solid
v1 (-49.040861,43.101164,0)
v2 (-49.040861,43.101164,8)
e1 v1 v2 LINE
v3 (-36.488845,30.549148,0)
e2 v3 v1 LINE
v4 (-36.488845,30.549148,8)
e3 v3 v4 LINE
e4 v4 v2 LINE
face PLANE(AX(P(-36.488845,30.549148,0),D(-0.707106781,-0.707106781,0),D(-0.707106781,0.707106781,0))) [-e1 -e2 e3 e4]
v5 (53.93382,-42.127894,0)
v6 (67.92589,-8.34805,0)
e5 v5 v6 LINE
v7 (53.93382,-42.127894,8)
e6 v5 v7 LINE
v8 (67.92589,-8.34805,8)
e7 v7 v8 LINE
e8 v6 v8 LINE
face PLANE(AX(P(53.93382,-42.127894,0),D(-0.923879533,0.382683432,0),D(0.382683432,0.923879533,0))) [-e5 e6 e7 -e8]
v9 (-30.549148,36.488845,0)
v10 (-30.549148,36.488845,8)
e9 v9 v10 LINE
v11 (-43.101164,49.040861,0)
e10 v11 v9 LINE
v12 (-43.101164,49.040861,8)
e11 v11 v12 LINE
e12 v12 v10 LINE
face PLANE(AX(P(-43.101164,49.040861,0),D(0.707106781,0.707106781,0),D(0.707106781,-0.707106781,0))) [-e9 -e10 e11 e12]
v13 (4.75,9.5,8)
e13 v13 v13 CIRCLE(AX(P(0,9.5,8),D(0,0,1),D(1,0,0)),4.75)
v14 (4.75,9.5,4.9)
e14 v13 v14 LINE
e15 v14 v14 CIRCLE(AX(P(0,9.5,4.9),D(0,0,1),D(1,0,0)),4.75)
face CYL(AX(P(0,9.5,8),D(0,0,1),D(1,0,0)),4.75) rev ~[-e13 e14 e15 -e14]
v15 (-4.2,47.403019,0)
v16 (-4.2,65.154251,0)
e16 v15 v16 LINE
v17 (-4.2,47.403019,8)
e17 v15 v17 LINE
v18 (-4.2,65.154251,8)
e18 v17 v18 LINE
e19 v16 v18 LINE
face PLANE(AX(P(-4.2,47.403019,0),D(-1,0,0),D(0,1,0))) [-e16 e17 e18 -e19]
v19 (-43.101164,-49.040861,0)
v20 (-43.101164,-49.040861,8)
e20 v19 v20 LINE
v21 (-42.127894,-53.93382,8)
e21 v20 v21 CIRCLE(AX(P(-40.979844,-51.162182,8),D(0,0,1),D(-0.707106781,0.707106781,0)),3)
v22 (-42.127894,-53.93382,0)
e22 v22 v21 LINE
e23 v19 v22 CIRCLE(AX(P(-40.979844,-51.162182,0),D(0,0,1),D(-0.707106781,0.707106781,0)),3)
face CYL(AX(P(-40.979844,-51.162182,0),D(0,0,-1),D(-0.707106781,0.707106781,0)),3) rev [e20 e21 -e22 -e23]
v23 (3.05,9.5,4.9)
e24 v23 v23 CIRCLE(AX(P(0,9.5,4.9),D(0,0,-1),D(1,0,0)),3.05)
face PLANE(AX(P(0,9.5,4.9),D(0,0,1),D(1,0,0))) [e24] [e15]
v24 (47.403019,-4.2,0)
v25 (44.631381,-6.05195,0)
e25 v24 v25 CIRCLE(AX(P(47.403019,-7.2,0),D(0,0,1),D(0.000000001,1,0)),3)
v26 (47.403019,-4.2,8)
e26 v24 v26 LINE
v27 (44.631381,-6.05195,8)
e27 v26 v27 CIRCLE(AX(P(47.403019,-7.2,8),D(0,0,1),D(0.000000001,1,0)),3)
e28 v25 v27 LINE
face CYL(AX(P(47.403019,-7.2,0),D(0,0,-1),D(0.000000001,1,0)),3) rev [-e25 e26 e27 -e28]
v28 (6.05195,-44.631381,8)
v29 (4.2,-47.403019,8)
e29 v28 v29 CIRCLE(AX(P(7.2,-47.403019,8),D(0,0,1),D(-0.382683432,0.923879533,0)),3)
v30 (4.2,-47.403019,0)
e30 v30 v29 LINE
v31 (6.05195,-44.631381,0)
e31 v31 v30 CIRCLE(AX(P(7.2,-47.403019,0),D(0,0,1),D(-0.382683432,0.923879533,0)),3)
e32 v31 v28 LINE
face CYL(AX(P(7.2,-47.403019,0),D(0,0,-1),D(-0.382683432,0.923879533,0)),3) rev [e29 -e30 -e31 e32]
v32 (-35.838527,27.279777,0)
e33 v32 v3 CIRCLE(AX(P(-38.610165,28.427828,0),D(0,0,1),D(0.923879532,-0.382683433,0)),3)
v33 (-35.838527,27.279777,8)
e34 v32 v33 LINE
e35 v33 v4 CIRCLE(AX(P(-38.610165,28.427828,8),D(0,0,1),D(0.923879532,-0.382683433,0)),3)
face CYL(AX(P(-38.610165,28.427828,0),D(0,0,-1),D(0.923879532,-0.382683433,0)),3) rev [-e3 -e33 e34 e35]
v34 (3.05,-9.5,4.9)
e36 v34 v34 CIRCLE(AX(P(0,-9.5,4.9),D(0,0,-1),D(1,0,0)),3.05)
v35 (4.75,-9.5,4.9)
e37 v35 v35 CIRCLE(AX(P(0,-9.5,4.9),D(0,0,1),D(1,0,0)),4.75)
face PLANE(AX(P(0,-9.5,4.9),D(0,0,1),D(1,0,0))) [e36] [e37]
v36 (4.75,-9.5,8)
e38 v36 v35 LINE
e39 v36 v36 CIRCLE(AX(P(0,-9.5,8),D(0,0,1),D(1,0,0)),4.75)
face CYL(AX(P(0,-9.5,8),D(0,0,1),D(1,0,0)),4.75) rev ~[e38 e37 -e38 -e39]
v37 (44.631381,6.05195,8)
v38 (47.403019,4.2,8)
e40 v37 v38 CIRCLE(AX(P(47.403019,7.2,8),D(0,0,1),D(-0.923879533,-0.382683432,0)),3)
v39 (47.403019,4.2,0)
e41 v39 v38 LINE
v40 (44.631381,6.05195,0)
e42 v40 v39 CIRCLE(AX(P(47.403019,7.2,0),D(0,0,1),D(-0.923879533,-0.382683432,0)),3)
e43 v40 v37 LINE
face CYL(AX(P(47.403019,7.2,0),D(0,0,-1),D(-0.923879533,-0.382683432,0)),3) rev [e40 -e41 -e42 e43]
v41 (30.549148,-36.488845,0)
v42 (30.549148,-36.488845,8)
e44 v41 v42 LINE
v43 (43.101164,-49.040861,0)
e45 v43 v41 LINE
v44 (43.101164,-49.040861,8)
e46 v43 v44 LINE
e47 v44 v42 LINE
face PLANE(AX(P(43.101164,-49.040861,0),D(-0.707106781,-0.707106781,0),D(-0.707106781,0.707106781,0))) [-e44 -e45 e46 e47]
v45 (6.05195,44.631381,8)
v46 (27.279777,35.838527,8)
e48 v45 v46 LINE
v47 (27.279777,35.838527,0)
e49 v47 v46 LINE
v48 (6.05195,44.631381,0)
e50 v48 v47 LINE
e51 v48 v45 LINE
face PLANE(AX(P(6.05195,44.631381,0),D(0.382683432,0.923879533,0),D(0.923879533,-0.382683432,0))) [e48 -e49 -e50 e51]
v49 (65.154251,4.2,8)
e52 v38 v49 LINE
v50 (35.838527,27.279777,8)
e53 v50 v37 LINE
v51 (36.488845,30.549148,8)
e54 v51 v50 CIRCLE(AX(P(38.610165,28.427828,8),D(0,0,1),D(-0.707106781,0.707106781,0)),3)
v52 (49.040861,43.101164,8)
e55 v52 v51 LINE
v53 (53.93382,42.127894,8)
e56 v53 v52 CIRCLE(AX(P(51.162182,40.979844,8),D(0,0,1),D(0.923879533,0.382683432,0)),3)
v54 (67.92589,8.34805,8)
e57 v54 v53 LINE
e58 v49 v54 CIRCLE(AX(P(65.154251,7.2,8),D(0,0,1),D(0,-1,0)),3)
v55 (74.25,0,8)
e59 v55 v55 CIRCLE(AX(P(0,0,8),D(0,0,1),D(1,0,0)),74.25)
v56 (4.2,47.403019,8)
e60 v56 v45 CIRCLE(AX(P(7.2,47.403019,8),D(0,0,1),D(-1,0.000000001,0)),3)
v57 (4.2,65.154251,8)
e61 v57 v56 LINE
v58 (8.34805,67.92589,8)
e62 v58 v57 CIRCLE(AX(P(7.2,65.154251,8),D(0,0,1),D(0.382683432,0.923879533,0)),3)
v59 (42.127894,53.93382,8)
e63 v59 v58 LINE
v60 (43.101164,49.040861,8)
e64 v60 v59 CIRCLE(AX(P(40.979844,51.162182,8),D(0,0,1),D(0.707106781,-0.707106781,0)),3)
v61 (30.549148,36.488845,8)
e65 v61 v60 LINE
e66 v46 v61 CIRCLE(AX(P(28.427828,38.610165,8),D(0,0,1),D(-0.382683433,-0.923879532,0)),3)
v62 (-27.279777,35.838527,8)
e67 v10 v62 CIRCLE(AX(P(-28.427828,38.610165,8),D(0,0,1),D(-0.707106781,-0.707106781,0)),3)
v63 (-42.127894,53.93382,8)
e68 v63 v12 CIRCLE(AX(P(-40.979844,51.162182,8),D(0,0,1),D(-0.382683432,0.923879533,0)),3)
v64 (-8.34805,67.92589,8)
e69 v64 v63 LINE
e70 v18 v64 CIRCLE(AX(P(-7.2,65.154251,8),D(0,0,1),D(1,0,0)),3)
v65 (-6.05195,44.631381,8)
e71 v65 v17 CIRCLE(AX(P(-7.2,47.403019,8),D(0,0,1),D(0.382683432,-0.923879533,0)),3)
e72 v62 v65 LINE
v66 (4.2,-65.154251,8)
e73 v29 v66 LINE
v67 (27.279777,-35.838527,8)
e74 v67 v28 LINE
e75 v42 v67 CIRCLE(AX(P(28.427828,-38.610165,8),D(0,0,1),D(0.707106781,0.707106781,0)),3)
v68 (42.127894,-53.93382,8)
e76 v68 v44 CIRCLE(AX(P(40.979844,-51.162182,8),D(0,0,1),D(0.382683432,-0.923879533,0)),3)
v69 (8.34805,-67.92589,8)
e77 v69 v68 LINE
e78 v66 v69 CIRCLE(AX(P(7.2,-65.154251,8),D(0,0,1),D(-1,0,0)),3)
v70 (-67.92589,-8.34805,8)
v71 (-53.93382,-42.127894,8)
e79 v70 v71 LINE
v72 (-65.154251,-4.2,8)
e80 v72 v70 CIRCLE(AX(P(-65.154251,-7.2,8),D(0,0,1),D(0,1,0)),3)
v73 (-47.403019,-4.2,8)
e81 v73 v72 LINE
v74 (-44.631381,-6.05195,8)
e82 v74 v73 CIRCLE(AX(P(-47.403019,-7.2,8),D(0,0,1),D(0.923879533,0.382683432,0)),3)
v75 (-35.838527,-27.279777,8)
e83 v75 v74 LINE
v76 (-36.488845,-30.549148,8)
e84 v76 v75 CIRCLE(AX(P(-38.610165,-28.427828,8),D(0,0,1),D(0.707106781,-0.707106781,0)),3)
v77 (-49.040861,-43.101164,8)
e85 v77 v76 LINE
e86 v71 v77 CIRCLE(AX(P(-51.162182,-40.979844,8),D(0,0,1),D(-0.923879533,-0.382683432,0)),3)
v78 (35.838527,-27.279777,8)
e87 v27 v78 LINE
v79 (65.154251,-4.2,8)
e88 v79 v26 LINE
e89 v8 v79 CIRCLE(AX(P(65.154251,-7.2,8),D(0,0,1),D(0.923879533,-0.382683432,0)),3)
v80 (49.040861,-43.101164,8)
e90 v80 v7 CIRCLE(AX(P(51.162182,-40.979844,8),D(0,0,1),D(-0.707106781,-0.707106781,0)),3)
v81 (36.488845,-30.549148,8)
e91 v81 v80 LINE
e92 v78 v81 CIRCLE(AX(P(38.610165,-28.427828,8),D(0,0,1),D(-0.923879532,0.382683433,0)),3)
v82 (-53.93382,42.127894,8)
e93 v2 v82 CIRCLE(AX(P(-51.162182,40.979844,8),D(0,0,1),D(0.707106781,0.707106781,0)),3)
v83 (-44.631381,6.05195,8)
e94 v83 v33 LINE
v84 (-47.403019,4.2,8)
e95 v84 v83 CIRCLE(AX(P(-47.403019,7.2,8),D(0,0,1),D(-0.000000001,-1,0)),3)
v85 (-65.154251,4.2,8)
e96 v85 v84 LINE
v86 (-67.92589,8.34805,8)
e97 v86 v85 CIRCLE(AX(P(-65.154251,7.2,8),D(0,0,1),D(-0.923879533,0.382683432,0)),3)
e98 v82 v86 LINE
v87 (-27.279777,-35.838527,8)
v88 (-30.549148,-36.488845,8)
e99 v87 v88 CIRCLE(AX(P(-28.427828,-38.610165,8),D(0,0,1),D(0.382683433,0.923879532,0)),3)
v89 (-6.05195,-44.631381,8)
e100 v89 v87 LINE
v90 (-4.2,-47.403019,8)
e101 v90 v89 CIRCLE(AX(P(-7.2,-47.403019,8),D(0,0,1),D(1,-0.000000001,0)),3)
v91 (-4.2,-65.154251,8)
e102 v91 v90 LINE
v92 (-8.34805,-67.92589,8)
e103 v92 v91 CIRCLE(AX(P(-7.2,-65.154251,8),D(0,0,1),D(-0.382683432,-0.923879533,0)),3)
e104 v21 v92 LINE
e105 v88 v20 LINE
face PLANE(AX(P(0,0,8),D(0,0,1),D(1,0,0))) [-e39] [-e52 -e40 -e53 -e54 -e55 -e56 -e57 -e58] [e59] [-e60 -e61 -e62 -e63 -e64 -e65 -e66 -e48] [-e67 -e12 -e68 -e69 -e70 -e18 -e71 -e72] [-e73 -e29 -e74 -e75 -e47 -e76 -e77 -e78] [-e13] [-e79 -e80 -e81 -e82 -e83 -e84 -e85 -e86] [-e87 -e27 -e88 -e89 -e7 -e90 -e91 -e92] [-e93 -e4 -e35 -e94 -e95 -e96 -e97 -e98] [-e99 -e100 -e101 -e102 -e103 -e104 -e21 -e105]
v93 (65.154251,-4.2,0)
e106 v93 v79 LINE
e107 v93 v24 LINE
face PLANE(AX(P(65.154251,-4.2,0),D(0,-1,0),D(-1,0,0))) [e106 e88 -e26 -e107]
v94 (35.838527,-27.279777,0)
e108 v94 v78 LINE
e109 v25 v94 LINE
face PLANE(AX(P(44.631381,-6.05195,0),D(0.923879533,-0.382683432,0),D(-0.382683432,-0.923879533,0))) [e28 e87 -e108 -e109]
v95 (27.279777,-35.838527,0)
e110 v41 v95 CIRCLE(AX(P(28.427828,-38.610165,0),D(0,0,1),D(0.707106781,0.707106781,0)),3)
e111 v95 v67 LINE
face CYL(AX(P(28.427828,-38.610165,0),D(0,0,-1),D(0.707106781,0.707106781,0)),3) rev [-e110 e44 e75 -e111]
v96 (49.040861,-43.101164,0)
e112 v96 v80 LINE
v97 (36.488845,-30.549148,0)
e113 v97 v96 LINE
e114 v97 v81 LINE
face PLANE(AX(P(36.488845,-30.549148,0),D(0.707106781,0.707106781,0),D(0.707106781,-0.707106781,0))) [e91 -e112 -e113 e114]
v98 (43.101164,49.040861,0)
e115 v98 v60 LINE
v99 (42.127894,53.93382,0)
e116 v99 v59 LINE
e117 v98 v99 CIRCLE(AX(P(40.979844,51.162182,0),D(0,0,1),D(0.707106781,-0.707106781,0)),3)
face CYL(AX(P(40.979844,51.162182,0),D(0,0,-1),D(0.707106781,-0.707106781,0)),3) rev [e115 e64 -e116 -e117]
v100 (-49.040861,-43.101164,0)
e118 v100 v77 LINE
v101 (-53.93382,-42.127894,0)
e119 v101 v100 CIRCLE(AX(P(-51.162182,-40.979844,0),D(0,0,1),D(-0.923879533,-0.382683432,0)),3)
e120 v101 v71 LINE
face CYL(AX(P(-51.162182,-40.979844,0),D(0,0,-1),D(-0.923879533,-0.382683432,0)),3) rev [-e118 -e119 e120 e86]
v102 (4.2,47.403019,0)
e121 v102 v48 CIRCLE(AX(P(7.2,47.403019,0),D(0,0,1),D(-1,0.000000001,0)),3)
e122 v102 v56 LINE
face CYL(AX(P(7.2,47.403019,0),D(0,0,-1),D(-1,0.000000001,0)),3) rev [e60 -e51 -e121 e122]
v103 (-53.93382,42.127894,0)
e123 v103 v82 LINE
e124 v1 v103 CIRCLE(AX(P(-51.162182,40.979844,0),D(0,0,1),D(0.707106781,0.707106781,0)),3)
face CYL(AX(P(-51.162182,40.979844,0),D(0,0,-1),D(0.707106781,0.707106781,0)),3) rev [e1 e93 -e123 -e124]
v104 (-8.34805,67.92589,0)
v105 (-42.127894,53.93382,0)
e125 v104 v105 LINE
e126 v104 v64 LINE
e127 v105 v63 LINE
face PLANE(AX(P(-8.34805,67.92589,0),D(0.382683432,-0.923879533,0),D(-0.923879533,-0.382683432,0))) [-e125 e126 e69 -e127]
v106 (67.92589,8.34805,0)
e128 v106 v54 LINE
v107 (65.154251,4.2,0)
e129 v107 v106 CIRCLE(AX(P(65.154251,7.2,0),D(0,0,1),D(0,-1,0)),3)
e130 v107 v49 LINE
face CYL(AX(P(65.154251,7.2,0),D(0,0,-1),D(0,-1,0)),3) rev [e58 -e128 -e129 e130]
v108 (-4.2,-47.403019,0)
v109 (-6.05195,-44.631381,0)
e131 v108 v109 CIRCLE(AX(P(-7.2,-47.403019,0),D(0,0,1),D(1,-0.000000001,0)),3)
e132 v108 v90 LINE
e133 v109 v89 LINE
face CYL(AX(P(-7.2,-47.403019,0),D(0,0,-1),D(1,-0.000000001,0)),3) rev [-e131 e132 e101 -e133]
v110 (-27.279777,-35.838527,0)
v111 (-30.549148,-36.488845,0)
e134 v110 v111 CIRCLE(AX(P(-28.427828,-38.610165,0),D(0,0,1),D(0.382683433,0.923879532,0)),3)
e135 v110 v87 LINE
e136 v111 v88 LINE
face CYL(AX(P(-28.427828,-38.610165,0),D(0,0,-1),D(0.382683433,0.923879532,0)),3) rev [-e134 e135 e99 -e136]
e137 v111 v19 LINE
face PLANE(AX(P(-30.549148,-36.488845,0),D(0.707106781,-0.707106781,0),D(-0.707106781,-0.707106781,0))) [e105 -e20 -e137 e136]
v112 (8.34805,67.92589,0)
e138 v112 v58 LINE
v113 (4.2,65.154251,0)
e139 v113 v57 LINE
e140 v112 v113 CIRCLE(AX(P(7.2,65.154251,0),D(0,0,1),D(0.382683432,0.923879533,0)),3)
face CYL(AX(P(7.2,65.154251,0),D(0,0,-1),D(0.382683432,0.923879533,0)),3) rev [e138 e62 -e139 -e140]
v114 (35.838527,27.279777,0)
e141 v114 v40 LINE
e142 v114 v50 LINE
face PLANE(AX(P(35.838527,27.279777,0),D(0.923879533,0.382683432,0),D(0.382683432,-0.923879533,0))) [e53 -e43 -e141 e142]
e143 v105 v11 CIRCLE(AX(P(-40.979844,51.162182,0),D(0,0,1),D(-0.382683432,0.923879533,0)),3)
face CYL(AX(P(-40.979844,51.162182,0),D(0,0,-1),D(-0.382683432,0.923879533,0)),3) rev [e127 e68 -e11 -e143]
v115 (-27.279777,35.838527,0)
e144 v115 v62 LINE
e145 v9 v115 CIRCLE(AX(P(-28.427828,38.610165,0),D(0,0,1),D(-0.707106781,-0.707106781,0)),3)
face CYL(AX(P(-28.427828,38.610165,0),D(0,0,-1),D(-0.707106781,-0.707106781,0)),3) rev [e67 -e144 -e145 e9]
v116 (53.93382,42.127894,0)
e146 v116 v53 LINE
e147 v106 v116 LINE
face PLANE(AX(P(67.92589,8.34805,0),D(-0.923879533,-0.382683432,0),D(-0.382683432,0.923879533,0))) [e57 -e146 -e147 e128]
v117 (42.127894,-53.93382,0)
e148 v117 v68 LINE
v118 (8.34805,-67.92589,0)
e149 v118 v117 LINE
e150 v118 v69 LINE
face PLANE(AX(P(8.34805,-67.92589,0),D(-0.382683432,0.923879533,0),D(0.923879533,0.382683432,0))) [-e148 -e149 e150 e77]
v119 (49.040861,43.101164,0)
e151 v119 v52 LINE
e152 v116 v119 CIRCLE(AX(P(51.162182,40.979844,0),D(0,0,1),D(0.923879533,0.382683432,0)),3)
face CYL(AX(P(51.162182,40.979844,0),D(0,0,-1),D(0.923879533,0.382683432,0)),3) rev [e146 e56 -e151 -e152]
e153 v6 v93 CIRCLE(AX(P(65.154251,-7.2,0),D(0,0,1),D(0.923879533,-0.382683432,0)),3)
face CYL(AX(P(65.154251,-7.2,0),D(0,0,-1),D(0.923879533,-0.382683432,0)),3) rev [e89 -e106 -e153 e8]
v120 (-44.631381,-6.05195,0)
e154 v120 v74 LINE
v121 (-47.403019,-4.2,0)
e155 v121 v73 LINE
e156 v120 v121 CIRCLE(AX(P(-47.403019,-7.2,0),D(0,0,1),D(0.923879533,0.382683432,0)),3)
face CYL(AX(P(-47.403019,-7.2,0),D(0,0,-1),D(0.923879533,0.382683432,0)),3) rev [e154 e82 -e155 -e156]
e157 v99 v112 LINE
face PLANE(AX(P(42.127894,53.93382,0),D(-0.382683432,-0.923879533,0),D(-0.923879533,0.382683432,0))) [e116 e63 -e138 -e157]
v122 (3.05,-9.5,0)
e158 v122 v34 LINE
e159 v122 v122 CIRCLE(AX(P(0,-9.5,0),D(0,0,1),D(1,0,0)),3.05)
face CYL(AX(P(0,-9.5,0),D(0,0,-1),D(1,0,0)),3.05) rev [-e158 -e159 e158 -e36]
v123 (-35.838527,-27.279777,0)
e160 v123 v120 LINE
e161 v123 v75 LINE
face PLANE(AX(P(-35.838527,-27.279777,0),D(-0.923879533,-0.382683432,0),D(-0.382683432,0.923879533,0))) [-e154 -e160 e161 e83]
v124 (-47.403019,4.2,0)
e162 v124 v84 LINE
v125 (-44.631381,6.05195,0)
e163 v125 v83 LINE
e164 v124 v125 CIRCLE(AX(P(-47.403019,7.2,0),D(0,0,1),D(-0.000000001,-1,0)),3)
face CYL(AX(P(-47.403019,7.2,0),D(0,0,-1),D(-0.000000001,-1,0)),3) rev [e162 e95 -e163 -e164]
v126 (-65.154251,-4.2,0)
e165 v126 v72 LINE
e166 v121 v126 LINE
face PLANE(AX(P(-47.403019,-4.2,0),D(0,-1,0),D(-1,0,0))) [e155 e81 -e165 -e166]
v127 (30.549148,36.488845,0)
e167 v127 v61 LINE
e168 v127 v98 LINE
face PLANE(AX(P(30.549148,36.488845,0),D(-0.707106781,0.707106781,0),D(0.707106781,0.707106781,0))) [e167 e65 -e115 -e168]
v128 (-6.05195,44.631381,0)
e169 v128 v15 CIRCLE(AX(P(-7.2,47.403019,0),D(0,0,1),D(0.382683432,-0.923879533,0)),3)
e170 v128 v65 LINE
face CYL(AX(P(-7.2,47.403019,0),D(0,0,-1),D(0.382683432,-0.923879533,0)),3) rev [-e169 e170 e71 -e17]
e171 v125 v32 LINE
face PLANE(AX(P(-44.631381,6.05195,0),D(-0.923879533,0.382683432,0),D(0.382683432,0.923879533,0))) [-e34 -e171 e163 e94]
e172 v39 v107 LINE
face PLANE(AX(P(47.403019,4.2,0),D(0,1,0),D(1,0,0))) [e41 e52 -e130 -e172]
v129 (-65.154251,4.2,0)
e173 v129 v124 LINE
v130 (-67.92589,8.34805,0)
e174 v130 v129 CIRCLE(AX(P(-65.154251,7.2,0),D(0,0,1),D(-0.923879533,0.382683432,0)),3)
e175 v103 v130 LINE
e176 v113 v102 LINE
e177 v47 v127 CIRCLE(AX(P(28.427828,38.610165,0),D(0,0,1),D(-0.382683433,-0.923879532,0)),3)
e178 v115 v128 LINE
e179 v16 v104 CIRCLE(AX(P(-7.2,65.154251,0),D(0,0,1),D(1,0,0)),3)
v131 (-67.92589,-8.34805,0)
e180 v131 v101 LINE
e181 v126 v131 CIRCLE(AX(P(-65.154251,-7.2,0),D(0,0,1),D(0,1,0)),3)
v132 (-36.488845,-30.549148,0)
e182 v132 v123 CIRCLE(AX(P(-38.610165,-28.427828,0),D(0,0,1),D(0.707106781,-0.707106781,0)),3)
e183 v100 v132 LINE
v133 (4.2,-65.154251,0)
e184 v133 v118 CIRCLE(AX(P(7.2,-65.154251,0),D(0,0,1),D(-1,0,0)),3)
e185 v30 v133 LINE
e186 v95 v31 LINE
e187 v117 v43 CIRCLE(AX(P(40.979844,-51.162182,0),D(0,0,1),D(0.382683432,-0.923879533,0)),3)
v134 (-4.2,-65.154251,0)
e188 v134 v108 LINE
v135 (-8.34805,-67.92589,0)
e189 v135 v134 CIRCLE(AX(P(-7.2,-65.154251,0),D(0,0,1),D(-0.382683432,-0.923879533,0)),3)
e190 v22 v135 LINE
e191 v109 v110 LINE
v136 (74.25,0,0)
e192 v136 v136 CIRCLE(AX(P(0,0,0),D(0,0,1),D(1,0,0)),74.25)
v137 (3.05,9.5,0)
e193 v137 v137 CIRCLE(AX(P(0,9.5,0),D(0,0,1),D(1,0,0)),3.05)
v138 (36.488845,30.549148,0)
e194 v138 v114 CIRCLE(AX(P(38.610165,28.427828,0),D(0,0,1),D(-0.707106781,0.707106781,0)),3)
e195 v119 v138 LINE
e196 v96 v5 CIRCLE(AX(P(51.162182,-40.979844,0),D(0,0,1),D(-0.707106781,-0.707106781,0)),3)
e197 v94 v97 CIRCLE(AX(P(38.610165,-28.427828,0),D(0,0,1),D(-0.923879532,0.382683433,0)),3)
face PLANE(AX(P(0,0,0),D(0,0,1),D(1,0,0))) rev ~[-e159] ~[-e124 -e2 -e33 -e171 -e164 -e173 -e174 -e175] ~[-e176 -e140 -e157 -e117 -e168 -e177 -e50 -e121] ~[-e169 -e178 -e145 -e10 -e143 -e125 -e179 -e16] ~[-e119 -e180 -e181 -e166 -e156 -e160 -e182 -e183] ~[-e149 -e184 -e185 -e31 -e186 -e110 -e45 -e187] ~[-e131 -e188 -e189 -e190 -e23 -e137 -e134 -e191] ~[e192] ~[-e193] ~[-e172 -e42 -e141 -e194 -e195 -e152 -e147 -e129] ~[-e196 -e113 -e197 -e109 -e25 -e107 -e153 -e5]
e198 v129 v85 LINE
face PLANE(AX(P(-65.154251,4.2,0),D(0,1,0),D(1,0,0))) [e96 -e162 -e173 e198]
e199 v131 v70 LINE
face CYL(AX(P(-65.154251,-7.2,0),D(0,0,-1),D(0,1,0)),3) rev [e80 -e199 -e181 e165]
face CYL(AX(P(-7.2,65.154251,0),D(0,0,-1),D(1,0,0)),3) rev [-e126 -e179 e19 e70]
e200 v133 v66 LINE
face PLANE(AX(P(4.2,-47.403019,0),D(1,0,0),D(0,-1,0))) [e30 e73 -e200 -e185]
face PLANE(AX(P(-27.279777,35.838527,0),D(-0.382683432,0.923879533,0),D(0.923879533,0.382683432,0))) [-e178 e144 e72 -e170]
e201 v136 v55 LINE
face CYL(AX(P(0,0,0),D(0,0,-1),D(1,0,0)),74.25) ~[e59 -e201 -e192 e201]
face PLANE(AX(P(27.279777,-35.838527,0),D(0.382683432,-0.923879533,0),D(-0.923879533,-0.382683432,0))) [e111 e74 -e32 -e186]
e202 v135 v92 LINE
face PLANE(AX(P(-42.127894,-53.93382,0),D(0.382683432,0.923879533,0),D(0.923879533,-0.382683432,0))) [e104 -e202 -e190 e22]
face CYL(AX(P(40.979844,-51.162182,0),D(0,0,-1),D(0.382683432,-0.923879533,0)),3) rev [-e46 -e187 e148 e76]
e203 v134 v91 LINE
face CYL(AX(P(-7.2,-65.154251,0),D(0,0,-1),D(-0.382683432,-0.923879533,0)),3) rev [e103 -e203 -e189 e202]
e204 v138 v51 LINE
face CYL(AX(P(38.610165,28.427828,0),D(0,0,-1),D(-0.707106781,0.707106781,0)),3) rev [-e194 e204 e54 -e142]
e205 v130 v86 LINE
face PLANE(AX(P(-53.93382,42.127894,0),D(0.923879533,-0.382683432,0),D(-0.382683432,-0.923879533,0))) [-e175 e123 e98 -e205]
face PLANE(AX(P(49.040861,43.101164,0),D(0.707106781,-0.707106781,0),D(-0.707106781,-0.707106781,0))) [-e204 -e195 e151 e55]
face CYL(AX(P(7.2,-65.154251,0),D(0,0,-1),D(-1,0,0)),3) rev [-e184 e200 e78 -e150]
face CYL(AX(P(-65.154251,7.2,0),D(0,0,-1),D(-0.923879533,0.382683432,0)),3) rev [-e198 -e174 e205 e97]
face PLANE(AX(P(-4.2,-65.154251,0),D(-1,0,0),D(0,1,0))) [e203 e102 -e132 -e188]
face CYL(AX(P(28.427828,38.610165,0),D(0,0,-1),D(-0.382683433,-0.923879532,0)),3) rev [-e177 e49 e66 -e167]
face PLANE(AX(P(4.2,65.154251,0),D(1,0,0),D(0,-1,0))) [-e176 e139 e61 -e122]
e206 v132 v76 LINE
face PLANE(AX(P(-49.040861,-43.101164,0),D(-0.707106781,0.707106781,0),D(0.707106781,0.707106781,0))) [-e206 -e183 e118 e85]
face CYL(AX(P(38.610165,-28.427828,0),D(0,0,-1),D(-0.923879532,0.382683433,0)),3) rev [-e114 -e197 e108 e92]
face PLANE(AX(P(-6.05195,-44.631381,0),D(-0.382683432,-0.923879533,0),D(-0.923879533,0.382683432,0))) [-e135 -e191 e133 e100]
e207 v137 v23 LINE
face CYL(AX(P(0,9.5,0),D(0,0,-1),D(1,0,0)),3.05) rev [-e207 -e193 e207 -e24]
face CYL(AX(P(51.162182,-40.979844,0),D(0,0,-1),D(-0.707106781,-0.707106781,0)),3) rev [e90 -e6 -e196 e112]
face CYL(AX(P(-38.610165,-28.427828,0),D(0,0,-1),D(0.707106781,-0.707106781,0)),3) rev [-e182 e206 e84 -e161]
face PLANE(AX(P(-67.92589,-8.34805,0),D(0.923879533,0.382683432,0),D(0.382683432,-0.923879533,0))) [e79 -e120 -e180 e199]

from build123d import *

# Parameters (mm, degrees)
SKETCH1_R           = 74.25
SKETCH1_R_2         = 3.05
BOSS_EXTRUDE1_DEPTH = 8
SKETCH2_R           = 4.75
CUT_EXTRUDE1_DEPTH  = 3.1


with BuildPart() as part:
    # Sketch1 → Boss-Extrude1 (new body)
    with BuildSketch(Plane.XY):
        Circle(SKETCH1_R)
        with Locations((0, 9.5)):
            Circle(SKETCH1_R_2, mode=Mode.SUBTRACT)
        with Locations((0, -9.5)):
            Circle(SKETCH1_R_2, mode=Mode.SUBTRACT)
        with BuildLine():
            Line((67.925889957, 8.348050297), (53.933820381, 42.127894432))
            ThreePointArc((53.933820381, 42.127894432), (51.74745275, 43.922199976), (49.04086144, 43.101164478))
            Line((49.04086144, 43.101164478), (36.488844859, 30.549147897))
            ThreePointArc((36.488844859, 30.549147897), (35.667809361, 29.013098519), (35.838526605, 27.279777256))
            Line((35.838526605, 27.279777256), (44.631380677, 6.051949703))
            ThreePointArc((44.631380677, 6.051949703), (45.736308575, 4.705591163), (47.403019275, 4.2))
            Line((47.403019275, 4.2), (65.154251359, 4.2))
            ThreePointArc((65.154251359, 4.2), (67.648660196, 5.533289301), (67.925889957, 8.348050297))
        make_face(mode=Mode.SUBTRACT)
        with BuildLine():
            Line((42.127894432, 53.933820381), (8.348050297, 67.925889957))
            ThreePointArc((8.348050297, 67.925889957), (5.533289301, 67.648660196), (4.2, 65.154251359))
            Line((4.2, 65.154251359), (4.2, 47.403019275))
            ThreePointArc((4.2, 47.403019275), (4.705591163, 45.736308575), (6.051949703, 44.631380677))
            Line((6.051949703, 44.631380677), (27.279777256, 35.838526605))
            ThreePointArc((27.279777256, 35.838526605), (29.013098519, 35.667809361), (30.549147897, 36.488844859))
            Line((30.549147897, 36.488844859), (43.101164478, 49.04086144))
            ThreePointArc((43.101164478, 49.04086144), (43.922199976, 51.74745275), (42.127894432, 53.933820381))
        make_face(mode=Mode.SUBTRACT)
        with BuildLine():
            Line((-8.348050297, 67.925889957), (-42.127894432, 53.933820381))
            ThreePointArc((-42.127894432, 53.933820381), (-43.922199976, 51.74745275), (-43.101164478, 49.04086144))
            Line((-43.101164478, 49.04086144), (-30.549147897, 36.488844859))
            ThreePointArc((-30.549147897, 36.488844859), (-29.013098519, 35.667809361), (-27.279777256, 35.838526605))
            Line((-27.279777256, 35.838526605), (-6.051949703, 44.631380677))
            ThreePointArc((-6.051949703, 44.631380677), (-4.705591163, 45.736308575), (-4.2, 47.403019275))
            Line((-4.2, 47.403019275), (-4.2, 65.154251359))
            ThreePointArc((-4.2, 65.154251359), (-5.533289301, 67.648660196), (-8.348050297, 67.925889957))
        make_face(mode=Mode.SUBTRACT)
        with BuildLine():
            Line((-53.933820381, 42.127894432), (-67.925889957, 8.348050297))
            ThreePointArc((-67.925889957, 8.348050297), (-67.648660196, 5.533289301), (-65.154251359, 4.2))
            Line((-65.154251359, 4.2), (-47.403019275, 4.2))
            ThreePointArc((-47.403019275, 4.2), (-45.736308575, 4.705591163), (-44.631380677, 6.051949703))
            Line((-44.631380677, 6.051949703), (-35.838526605, 27.279777256))
            ThreePointArc((-35.838526605, 27.279777256), (-35.667809361, 29.013098519), (-36.488844859, 30.549147897))
            Line((-36.488844859, 30.549147897), (-49.04086144, 43.101164478))
            ThreePointArc((-49.04086144, 43.101164478), (-51.74745275, 43.922199976), (-53.933820381, 42.127894432))
        make_face(mode=Mode.SUBTRACT)
        with BuildLine():
            Line((-67.925889957, -8.348050297), (-53.933820381, -42.127894432))
            ThreePointArc((-53.933820381, -42.127894432), (-51.74745275, -43.922199976), (-49.04086144, -43.101164478))
            Line((-49.04086144, -43.101164478), (-36.488844859, -30.549147897))
            ThreePointArc((-36.488844859, -30.549147897), (-35.667809361, -29.013098519), (-35.838526605, -27.279777256))
            Line((-35.838526605, -27.279777256), (-44.631380677, -6.051949703))
            ThreePointArc((-44.631380677, -6.051949703), (-45.736308575, -4.705591163), (-47.403019275, -4.2))
            Line((-47.403019275, -4.2), (-65.154251359, -4.2))
            ThreePointArc((-65.154251359, -4.2), (-67.648660196, -5.533289301), (-67.925889957, -8.348050297))
        make_face(mode=Mode.SUBTRACT)
        with BuildLine():
            Line((-42.127894432, -53.933820381), (-8.348050297, -67.925889957))
            ThreePointArc((-8.348050297, -67.925889957), (-5.533289301, -67.648660196), (-4.2, -65.154251359))
            Line((-4.2, -65.154251359), (-4.2, -47.403019275))
            ThreePointArc((-4.2, -47.403019275), (-4.705591163, -45.736308575), (-6.051949703, -44.631380677))
            Line((-6.051949703, -44.631380677), (-27.279777256, -35.838526605))
            ThreePointArc((-27.279777256, -35.838526605), (-29.013098519, -35.667809361), (-30.549147897, -36.488844859))
            Line((-30.549147897, -36.488844859), (-43.101164478, -49.04086144))
            ThreePointArc((-43.101164478, -49.04086144), (-43.922199976, -51.74745275), (-42.127894432, -53.933820381))
        make_face(mode=Mode.SUBTRACT)
        with BuildLine():
            Line((8.348050297, -67.925889957), (42.127894432, -53.933820381))
            ThreePointArc((42.127894432, -53.933820381), (43.922199976, -51.74745275), (43.101164478, -49.04086144))
            Line((43.101164478, -49.04086144), (30.549147897, -36.488844859))
            ThreePointArc((30.549147897, -36.488844859), (29.013098519, -35.667809361), (27.279777256, -35.838526605))
            Line((27.279777256, -35.838526605), (6.051949703, -44.631380677))
            ThreePointArc((6.051949703, -44.631380677), (4.705591163, -45.736308575), (4.2, -47.403019275))
            Line((4.2, -47.403019275), (4.2, -65.154251359))
            ThreePointArc((4.2, -65.154251359), (5.533289301, -67.648660196), (8.348050297, -67.925889957))
        make_face(mode=Mode.SUBTRACT)
        with BuildLine():
            Line((53.933820381, -42.127894432), (67.925889957, -8.348050297))
            ThreePointArc((67.925889957, -8.348050297), (67.648660196, -5.533289301), (65.154251359, -4.2))
            Line((65.154251359, -4.2), (47.403019275, -4.2))
            ThreePointArc((47.403019275, -4.2), (45.736308575, -4.705591163), (44.631380677, -6.051949703))
            Line((44.631380677, -6.051949703), (35.838526605, -27.279777256))
            ThreePointArc((35.838526605, -27.279777256), (35.667809361, -29.013098519), (36.488844859, -30.549147897))
            Line((36.488844859, -30.549147897), (49.04086144, -43.101164478))
            ThreePointArc((49.04086144, -43.101164478), (51.74745275, -43.922199976), (53.933820381, -42.127894432))
        make_face(mode=Mode.SUBTRACT)
    extrude(amount=BOSS_EXTRUDE1_DEPTH)

    # Sketch2 → Cut-Extrude1 (cut)
    with BuildSketch(Plane.XY.offset(8)):
        with Locations((0, -9.5)):
            Circle(SKETCH2_R)
        with Locations((0, 9.5)):
            Circle(SKETCH2_R)
    extrude(amount=-CUT_EXTRUDE1_DEPTH, mode=Mode.SUBTRACT)


solid = part.part
